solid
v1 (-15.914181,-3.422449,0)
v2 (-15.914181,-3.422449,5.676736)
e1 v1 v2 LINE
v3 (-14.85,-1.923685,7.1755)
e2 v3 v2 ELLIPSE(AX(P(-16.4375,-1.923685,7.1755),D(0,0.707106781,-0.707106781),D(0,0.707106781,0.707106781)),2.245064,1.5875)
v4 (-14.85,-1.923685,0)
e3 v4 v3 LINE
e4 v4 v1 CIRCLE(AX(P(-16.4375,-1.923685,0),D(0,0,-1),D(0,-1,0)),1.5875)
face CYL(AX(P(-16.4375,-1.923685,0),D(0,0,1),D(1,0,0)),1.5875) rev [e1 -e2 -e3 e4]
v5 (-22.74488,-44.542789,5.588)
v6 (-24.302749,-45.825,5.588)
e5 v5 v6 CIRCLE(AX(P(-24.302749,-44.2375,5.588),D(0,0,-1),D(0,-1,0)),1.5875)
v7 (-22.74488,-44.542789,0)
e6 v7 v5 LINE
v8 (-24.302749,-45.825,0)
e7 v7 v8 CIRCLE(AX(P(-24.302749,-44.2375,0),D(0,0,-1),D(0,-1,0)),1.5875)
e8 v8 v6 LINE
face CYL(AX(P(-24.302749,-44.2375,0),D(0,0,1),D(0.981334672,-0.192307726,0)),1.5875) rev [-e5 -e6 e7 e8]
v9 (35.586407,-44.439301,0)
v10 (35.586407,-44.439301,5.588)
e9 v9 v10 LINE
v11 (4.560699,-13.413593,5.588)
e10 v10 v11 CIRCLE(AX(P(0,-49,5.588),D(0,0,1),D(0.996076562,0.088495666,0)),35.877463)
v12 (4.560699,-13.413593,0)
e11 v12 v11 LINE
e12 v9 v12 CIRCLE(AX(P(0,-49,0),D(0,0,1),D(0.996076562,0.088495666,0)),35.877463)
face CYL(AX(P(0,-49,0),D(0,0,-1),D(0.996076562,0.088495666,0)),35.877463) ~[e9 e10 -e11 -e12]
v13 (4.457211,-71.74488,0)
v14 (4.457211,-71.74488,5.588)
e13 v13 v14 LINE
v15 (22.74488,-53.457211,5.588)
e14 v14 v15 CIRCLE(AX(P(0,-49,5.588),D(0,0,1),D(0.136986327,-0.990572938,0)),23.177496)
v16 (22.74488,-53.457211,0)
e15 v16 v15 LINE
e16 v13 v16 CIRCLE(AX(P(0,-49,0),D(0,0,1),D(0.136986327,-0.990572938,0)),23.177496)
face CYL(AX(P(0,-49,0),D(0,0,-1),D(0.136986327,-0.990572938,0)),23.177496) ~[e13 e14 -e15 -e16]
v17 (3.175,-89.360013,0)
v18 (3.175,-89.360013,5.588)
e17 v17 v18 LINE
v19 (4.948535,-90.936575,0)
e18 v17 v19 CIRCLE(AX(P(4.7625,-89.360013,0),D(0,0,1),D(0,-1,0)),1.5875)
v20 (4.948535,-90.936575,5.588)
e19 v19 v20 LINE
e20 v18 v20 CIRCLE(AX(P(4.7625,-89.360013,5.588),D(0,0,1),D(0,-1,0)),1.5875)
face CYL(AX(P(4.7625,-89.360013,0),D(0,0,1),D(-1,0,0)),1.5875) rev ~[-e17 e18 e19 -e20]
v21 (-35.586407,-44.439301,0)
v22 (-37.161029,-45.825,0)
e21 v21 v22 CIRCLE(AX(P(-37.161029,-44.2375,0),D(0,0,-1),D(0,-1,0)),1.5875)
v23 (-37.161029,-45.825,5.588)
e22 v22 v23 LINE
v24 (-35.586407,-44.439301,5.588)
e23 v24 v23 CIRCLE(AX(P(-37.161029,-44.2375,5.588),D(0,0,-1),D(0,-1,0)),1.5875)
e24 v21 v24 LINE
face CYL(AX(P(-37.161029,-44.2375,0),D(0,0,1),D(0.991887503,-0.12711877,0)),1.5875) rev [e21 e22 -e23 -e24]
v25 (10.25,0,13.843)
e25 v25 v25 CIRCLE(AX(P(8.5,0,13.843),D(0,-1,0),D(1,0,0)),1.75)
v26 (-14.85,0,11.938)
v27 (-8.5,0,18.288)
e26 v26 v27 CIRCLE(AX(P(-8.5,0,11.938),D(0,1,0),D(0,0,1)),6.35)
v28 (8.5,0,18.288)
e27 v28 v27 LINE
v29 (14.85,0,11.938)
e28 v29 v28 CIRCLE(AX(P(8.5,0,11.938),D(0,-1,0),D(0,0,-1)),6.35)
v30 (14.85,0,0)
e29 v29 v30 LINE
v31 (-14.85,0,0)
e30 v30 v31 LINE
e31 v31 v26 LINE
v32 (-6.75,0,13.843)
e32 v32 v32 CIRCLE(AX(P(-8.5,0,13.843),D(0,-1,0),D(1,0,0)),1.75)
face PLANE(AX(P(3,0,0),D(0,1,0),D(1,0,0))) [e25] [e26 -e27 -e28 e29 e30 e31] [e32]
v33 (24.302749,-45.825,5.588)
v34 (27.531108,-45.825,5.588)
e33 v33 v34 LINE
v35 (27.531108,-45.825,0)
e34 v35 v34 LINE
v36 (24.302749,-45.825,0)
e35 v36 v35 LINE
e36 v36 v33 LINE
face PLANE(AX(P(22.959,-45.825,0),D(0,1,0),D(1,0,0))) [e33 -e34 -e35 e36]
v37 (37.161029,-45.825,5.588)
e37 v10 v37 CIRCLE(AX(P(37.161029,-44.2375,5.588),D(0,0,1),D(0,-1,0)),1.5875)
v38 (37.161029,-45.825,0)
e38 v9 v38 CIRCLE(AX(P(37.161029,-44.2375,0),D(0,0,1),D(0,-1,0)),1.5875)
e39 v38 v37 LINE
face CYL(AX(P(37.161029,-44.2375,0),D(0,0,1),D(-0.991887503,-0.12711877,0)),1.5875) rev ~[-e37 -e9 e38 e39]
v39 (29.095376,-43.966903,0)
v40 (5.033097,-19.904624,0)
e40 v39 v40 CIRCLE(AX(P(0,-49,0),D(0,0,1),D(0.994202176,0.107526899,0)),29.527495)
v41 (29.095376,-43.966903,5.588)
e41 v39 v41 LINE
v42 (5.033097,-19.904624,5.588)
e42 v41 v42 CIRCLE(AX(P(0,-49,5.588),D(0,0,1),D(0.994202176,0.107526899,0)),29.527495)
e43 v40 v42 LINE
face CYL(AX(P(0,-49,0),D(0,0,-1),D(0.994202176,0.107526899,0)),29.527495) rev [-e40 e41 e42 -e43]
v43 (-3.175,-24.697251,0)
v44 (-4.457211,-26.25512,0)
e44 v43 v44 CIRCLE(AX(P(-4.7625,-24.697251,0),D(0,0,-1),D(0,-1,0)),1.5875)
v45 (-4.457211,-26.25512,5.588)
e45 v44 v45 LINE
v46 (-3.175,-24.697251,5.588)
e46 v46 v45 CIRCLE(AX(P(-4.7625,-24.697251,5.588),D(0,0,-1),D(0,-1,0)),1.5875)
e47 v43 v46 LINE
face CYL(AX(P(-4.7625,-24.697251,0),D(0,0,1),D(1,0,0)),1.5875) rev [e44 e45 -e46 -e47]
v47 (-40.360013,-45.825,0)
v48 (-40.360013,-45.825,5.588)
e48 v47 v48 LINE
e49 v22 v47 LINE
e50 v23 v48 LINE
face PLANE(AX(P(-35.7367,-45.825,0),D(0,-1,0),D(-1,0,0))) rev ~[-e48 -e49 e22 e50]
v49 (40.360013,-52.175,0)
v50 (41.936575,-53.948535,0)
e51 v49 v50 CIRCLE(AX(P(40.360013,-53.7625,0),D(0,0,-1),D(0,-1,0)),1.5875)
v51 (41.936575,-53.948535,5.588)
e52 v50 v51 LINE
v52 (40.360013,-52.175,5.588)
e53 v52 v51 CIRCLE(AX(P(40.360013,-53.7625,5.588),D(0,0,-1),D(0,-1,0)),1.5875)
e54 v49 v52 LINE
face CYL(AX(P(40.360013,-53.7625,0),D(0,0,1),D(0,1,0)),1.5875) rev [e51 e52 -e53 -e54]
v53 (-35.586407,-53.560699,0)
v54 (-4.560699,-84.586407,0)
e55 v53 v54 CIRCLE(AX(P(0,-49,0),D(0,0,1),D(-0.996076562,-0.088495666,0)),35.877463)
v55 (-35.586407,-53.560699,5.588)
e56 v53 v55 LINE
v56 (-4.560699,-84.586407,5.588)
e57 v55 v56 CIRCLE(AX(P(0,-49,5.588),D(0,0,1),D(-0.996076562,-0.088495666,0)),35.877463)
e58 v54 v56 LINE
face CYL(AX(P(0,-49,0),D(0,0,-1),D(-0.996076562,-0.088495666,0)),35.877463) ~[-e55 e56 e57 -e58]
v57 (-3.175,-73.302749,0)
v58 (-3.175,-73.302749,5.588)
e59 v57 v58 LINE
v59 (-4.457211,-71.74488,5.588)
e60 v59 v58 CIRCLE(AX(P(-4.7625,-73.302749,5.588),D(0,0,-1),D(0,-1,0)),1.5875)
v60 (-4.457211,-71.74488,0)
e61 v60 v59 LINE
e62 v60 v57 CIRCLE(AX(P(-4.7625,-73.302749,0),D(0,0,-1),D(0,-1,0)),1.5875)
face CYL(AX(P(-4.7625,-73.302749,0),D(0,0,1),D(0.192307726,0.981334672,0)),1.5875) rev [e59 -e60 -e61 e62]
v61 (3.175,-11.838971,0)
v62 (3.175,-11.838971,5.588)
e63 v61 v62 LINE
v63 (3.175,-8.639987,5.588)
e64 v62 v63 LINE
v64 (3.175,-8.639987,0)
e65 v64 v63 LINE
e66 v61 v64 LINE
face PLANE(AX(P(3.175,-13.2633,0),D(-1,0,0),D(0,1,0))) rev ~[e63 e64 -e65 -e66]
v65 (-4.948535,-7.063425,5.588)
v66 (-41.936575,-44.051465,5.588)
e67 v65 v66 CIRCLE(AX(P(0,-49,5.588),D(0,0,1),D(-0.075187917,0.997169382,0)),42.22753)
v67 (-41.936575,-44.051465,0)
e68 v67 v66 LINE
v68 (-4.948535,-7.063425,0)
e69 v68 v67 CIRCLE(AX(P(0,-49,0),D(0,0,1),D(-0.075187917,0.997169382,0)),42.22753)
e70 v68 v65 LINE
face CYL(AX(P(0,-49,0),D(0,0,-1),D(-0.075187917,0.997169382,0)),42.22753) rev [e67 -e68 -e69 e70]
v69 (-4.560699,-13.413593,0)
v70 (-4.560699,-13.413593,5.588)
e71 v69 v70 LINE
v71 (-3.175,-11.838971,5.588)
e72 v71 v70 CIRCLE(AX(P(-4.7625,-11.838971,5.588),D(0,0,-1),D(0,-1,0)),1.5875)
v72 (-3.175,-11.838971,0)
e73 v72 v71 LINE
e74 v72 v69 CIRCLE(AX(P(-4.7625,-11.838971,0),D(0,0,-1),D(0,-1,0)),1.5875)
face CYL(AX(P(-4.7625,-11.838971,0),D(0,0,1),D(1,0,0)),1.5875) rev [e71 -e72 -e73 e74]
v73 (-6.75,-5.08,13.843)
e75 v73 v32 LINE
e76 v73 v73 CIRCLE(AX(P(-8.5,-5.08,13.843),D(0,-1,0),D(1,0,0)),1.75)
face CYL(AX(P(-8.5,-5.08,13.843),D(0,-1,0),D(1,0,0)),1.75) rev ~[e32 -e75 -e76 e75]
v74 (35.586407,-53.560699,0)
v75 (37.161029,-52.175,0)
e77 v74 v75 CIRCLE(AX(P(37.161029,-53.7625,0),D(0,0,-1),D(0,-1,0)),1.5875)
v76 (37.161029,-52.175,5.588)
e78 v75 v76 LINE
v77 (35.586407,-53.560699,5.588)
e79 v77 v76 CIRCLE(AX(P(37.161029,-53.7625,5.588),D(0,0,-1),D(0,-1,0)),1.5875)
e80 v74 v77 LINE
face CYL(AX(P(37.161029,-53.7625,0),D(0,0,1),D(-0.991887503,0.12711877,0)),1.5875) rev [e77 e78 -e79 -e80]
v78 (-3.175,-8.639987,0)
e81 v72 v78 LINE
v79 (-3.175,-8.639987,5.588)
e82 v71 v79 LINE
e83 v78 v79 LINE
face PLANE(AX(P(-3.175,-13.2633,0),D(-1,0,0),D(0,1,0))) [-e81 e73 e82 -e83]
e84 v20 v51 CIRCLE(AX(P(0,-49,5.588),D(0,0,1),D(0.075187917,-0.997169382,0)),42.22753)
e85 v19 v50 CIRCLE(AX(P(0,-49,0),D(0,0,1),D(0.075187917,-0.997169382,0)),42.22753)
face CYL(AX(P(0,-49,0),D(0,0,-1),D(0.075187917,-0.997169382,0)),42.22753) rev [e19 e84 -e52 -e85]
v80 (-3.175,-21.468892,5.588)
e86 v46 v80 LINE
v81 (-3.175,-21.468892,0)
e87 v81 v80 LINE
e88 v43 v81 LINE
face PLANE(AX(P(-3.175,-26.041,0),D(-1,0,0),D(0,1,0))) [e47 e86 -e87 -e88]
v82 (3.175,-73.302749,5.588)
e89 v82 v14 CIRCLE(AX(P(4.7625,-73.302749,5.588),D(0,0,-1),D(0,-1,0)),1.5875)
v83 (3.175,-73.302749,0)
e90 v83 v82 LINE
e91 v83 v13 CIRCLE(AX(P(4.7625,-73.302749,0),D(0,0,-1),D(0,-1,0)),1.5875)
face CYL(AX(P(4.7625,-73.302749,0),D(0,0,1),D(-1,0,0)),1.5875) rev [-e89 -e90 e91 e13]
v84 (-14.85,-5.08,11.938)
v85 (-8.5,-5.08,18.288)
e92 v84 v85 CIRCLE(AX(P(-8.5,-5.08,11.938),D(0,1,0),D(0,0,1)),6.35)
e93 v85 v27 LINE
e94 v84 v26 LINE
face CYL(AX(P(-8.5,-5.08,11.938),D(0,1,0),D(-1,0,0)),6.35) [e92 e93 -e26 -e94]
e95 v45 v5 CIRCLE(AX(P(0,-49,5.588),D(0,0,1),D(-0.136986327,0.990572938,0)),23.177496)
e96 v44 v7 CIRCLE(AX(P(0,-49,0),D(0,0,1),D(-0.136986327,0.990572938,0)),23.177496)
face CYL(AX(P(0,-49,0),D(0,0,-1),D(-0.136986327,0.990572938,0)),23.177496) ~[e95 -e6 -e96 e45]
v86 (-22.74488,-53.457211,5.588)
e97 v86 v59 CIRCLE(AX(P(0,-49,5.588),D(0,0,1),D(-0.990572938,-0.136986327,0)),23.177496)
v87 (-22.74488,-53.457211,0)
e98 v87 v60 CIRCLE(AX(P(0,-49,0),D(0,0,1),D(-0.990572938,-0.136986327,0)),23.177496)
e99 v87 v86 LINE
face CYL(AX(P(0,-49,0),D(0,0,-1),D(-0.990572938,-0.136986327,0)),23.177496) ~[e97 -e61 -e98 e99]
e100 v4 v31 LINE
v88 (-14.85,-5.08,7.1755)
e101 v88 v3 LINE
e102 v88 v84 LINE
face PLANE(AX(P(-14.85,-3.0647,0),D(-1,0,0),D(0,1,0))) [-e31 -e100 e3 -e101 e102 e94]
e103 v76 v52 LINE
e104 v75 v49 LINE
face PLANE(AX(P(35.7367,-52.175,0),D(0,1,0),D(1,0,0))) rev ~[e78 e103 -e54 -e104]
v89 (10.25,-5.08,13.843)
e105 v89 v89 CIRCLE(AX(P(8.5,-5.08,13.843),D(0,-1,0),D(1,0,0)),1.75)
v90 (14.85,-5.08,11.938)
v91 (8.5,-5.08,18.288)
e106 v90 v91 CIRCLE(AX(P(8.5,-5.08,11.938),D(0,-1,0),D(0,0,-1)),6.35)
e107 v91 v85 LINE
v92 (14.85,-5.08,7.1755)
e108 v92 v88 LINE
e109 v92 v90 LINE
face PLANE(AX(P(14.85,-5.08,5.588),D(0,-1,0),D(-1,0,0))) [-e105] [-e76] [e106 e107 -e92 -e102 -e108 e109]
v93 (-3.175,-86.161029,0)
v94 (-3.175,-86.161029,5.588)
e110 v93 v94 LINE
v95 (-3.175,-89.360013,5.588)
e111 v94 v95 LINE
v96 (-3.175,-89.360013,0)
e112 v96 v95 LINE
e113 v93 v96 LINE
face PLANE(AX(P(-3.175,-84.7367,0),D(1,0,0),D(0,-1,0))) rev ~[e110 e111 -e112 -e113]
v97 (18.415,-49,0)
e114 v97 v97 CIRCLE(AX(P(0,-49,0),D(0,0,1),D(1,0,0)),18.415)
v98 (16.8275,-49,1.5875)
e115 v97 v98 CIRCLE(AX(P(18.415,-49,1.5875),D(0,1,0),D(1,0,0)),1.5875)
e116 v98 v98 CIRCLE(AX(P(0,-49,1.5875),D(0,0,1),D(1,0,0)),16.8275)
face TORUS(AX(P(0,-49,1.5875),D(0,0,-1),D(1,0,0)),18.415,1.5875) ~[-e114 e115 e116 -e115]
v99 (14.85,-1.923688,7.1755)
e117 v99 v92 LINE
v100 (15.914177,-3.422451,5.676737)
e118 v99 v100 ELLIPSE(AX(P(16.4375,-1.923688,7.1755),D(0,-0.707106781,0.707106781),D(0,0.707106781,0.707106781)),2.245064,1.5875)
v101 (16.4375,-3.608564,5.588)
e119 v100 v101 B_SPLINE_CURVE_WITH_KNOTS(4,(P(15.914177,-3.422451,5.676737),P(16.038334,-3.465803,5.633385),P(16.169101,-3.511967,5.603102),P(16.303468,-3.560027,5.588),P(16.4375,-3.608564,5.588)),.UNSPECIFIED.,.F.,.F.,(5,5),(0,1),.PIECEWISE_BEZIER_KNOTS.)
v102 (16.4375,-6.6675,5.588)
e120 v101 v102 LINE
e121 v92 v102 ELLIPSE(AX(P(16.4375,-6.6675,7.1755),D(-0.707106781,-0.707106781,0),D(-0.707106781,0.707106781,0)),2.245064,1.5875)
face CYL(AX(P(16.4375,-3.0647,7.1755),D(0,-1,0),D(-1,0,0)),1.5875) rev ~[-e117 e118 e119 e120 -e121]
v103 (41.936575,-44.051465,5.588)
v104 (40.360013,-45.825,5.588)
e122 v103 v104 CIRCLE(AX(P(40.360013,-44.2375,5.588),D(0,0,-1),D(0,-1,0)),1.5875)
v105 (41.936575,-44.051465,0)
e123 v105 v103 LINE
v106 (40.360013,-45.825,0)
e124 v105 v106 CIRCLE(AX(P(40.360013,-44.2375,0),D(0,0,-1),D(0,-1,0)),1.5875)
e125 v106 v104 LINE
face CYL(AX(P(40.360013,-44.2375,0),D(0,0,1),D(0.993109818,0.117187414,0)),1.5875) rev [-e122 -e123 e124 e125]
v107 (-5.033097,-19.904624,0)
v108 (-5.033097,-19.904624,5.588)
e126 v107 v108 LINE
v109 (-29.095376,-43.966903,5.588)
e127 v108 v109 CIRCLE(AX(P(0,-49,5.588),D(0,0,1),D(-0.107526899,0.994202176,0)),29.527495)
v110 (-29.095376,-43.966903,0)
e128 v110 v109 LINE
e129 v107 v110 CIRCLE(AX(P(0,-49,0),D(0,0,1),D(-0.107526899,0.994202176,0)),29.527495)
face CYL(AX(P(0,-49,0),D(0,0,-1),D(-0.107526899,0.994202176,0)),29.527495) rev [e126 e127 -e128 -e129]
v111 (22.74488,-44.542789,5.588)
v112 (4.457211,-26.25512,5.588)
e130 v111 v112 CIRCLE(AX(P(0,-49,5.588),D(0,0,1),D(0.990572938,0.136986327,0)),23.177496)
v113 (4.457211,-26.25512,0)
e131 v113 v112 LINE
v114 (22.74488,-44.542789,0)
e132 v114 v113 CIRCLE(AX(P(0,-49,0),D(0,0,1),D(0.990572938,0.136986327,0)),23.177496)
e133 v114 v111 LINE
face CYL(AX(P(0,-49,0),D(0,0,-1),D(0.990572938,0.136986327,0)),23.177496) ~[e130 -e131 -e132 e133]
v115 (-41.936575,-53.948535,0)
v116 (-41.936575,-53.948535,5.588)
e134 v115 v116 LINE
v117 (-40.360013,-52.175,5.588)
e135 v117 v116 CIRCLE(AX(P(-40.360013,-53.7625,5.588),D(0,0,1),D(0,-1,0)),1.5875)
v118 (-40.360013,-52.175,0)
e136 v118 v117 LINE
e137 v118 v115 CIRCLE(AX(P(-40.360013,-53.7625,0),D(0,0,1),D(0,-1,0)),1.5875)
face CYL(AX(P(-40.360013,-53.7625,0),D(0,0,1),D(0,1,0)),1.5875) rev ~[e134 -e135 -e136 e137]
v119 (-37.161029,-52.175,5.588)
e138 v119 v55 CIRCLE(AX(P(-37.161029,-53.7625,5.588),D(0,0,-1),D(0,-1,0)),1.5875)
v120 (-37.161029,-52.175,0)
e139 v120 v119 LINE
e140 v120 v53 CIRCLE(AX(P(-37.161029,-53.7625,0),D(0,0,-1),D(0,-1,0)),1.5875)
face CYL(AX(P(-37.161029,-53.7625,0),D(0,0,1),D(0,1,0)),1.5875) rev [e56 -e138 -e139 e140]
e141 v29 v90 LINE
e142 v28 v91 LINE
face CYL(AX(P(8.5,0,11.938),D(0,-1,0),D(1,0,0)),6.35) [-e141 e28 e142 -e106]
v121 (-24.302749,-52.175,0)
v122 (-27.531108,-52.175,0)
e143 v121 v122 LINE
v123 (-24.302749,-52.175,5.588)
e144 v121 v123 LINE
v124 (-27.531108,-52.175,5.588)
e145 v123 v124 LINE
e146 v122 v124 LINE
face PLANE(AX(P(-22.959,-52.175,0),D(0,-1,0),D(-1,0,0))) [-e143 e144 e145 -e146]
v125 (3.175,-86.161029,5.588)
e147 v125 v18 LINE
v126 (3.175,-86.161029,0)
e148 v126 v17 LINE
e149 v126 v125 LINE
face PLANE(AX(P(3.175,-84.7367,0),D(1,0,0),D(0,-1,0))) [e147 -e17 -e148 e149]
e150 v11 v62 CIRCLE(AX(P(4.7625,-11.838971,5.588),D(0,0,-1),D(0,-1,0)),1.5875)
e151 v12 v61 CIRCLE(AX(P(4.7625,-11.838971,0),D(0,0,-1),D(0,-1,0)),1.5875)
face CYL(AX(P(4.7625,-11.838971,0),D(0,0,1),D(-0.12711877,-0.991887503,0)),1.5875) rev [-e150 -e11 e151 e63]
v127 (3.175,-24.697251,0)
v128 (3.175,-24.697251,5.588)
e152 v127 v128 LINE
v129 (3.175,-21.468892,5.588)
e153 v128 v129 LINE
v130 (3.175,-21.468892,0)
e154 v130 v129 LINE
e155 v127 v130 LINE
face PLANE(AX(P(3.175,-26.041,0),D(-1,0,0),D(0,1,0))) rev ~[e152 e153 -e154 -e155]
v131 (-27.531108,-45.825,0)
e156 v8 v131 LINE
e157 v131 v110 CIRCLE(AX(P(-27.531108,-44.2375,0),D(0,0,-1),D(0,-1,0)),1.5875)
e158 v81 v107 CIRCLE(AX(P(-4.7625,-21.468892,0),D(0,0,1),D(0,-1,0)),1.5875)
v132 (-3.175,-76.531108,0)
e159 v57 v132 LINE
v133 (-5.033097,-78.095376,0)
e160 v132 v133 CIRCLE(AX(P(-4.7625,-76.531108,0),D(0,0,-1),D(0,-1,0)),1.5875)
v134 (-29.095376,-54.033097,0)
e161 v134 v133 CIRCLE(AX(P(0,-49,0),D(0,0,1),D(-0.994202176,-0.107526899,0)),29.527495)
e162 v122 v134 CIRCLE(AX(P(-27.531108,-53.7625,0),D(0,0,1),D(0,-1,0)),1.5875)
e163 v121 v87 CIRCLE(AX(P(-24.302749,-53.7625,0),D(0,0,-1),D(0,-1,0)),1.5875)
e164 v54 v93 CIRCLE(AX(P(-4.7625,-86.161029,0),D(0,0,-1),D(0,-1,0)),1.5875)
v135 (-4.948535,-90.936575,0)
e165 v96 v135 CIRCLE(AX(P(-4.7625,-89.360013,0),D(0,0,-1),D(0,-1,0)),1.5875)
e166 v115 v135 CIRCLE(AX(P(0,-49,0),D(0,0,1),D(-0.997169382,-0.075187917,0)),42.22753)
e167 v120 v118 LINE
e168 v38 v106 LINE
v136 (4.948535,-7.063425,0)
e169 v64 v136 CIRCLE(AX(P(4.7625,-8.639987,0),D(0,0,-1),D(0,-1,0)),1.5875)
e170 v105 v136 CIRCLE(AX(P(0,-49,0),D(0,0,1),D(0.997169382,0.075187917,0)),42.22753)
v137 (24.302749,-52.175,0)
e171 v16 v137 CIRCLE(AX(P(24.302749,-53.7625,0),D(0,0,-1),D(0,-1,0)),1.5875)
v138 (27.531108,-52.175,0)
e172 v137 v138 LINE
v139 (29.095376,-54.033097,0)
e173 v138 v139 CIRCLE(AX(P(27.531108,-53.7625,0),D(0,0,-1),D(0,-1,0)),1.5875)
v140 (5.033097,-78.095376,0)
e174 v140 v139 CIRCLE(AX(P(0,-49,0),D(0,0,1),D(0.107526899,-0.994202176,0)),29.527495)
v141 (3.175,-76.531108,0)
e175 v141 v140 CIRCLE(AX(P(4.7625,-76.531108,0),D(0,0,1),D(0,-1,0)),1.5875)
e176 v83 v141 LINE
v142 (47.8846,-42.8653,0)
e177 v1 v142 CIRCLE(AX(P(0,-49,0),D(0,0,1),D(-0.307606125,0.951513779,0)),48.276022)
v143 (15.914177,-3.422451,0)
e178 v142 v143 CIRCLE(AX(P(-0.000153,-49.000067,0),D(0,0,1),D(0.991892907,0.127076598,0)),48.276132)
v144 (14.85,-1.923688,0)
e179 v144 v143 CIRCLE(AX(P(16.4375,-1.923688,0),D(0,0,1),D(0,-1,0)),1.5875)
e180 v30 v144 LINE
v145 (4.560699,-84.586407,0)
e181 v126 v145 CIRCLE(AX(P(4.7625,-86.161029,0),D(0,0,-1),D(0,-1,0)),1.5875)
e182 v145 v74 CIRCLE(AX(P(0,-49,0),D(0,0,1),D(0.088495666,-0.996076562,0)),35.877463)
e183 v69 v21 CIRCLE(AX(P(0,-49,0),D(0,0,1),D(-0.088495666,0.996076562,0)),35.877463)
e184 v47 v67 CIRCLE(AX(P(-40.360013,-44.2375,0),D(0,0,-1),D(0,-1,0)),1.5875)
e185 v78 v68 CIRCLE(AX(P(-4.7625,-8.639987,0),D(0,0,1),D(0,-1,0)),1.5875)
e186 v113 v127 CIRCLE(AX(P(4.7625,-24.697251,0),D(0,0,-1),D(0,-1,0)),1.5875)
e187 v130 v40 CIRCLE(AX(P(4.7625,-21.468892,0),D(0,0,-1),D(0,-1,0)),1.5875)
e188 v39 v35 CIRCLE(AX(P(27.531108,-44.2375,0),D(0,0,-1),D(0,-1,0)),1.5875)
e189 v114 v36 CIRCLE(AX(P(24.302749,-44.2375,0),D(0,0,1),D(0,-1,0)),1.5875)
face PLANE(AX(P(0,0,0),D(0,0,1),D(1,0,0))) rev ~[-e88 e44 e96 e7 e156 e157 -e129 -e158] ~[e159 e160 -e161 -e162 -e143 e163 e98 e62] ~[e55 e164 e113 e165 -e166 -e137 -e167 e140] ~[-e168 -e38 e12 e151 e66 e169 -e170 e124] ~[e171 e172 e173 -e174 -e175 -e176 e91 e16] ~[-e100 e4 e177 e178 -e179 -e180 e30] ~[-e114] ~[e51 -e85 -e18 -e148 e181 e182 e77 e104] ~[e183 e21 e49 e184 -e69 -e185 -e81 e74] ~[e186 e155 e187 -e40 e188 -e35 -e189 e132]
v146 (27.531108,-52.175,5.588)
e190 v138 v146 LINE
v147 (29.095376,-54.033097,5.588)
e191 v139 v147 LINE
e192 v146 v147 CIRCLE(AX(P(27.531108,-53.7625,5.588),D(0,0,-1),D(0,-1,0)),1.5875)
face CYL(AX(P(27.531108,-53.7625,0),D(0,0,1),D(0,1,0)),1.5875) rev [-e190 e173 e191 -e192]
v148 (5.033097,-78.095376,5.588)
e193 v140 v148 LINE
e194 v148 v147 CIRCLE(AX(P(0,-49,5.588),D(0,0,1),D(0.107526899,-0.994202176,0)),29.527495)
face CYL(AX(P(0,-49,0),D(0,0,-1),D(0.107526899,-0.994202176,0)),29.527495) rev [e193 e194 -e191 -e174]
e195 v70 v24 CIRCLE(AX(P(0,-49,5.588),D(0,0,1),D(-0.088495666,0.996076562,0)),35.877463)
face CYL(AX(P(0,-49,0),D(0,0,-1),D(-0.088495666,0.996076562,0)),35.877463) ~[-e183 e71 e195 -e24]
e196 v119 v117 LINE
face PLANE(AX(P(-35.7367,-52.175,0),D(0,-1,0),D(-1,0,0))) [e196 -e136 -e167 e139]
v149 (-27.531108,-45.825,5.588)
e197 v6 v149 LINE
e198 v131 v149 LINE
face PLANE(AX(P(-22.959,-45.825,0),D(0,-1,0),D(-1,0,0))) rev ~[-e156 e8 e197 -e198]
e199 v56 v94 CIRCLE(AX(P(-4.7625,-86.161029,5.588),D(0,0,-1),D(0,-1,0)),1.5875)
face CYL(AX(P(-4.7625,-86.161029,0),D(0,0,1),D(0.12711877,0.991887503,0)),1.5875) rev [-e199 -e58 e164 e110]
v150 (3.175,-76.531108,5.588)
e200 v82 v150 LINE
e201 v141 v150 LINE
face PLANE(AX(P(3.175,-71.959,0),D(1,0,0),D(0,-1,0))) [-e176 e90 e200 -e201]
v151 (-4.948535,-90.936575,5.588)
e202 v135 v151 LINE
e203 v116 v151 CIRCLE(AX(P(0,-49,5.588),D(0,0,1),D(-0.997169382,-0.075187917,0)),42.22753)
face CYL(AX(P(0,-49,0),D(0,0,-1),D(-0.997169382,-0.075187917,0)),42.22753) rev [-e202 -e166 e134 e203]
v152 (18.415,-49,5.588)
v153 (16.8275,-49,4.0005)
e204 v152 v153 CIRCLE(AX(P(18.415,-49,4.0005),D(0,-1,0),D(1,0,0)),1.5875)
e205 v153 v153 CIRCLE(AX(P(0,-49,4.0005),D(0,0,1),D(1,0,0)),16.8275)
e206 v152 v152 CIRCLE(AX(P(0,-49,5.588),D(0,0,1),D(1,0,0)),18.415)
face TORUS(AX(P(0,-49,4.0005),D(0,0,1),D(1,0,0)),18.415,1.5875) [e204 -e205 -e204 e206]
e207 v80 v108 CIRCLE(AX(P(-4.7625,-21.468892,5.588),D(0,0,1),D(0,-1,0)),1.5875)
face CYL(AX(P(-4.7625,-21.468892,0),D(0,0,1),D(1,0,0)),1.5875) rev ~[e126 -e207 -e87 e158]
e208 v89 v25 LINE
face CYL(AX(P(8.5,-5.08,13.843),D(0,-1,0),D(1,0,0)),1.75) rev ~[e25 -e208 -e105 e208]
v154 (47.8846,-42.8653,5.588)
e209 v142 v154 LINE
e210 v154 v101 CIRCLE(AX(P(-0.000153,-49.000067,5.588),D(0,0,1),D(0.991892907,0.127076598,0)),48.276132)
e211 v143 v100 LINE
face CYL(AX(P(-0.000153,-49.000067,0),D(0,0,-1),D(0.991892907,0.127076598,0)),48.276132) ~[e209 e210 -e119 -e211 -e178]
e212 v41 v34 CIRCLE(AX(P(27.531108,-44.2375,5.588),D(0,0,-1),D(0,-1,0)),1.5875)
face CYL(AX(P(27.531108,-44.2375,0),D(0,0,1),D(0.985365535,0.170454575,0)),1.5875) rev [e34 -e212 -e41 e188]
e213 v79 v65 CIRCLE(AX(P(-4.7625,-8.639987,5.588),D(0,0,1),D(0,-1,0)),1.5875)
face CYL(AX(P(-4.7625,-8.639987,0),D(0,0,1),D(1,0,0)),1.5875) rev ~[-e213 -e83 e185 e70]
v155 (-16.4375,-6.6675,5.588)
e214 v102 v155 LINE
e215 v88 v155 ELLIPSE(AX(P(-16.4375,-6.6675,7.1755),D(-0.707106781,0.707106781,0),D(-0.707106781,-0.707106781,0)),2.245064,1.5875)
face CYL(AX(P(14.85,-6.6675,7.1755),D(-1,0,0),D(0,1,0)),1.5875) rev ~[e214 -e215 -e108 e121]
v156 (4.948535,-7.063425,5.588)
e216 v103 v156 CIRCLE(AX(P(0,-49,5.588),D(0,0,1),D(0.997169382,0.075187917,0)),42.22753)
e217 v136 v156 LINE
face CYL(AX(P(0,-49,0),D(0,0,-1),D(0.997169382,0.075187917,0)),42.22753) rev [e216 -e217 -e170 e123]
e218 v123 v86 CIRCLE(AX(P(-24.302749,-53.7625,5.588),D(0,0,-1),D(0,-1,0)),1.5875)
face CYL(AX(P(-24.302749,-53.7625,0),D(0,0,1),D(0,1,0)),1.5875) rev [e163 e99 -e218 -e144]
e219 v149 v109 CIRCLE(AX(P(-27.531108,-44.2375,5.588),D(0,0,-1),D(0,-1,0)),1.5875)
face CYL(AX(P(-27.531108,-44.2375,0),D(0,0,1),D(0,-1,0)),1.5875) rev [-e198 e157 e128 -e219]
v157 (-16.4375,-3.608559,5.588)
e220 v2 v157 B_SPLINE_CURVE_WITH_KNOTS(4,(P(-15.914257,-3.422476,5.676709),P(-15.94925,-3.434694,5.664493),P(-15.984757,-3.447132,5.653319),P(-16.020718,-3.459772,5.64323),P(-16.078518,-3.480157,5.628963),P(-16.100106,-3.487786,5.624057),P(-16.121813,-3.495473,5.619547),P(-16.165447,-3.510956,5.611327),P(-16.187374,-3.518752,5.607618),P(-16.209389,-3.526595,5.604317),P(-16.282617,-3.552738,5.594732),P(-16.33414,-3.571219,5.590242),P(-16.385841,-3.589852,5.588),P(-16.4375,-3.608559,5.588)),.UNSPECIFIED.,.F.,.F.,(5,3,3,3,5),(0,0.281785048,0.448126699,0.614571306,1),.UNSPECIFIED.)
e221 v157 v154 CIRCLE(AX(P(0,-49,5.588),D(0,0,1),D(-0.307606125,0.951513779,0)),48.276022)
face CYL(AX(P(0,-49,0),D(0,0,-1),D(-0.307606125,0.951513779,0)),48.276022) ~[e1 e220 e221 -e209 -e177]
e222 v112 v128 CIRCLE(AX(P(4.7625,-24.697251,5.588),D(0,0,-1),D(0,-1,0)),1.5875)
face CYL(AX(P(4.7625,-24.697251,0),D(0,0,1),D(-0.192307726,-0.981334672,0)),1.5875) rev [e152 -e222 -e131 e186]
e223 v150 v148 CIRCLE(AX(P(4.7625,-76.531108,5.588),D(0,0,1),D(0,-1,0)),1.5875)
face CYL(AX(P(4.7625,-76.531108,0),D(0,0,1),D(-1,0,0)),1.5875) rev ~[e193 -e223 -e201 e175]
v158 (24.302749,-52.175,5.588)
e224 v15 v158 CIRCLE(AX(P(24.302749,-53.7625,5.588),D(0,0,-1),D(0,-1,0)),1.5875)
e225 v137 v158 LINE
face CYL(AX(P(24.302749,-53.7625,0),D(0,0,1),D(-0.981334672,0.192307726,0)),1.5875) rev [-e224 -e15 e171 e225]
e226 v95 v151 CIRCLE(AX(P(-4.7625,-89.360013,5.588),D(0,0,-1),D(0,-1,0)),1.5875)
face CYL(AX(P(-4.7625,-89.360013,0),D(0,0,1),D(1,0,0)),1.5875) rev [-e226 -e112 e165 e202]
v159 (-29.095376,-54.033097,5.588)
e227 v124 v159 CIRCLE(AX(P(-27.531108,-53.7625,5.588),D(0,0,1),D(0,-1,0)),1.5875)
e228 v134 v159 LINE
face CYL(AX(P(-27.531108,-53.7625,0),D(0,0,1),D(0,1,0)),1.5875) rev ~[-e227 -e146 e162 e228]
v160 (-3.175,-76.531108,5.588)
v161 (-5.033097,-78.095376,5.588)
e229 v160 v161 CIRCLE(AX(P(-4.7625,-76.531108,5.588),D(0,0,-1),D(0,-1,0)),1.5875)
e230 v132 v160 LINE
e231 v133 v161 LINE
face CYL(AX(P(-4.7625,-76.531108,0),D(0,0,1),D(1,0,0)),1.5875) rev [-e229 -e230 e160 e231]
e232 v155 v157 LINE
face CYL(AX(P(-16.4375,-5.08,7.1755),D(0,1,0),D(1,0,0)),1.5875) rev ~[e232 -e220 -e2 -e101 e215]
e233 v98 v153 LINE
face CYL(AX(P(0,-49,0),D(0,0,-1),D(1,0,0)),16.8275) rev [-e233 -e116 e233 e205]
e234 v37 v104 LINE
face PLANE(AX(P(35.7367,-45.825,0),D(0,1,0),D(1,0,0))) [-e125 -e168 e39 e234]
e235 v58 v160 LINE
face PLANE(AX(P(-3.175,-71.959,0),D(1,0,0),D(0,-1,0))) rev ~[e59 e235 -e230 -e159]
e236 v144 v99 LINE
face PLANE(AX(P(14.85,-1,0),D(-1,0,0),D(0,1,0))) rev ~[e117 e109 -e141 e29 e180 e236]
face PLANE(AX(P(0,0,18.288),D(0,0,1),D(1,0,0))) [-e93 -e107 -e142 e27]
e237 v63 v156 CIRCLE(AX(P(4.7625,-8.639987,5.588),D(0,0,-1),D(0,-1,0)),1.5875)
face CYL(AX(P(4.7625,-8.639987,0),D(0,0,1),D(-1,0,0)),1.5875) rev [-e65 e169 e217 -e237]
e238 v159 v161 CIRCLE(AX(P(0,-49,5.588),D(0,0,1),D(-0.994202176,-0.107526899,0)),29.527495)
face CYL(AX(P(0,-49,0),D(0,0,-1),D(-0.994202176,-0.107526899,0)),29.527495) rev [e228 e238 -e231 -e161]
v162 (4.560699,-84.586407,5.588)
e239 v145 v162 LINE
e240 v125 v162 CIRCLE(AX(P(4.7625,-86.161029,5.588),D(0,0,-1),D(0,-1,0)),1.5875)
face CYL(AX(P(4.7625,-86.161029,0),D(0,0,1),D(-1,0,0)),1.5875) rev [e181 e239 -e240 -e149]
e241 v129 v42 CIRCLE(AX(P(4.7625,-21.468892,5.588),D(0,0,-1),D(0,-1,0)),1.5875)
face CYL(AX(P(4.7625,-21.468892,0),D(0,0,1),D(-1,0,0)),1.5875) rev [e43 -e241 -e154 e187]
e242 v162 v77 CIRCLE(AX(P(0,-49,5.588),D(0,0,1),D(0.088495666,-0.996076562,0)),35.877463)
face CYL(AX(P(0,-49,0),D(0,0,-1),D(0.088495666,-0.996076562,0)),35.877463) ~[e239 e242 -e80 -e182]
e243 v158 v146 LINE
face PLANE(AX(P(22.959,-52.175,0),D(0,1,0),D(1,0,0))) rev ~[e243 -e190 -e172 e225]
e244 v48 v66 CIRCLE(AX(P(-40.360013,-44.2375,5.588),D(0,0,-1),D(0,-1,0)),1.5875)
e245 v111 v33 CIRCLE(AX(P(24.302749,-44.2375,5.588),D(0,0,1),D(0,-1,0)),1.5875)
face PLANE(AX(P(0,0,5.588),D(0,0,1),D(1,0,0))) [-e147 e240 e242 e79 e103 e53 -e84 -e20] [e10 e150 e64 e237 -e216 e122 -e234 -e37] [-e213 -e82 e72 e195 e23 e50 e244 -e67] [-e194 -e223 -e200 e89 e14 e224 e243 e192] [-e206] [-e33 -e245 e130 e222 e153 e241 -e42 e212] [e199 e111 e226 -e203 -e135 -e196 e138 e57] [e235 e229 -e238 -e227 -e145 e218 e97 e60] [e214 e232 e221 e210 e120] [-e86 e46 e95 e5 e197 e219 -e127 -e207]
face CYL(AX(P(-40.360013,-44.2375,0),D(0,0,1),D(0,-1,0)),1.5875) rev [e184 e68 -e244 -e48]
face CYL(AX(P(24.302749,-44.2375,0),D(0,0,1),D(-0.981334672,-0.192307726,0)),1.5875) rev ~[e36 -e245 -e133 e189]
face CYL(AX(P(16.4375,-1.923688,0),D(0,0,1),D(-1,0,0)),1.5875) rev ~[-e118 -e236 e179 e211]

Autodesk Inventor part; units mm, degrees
ref_plane "YZ Plane" through (0, 0, 0) normal (1, 0, 0) x (0, 1, 0)
sketch "Sketch1" plane through (0, 0, 0) normal (0, 0, 1) x (1, 0, 0)
  line L0 (3, 0) -> (-3, 0)
  line L1 (0, 0) -> (13.85, 0)
  line L2 (14.85, -3.0647) -> (14.85, -1)
  line L3 (14.85, -3.0647) -> (14.85, -1)
  line L4 (0, 0) -> (-13.85, 0)
  line L5 (13.85, 0) -> (-13.85, 0)
  line L6 (-14.85, -3.0647) -> (-14.85, -1)
  line L7 (-14.85, -3.0647) -> (-14.85, -1)
  arc A0 (47.8846, -42.8653) -> (14.85, -3.0647) centre (0, -49) ccw
  arc A1 (-14.85, -3.0647) -> (14.85, -3.0647) centre (0, -49) ccw
  line L8 (-14.85, -1) -> (-14.85, 0)
  line L9 (-14.85, 0) -> (-13.85, 0)
  line L10 (14.85, -1) -> (14.85, 0)
  line L11 (14.85, 0) -> (13.85, 0)
  circle A2 centre (0, -49) radius 16.8275
  line L12 (-3.175, -26.041) -> (-3.175, -19.6437)
  line L13 (-3.175, -13.2633) -> (-3.175, -6.892)
  line L14 (3.175, -26.041) -> (3.175, -19.6437)
  line L15 (3.175, -13.2633) -> (3.175, -6.892)
  arc A3 (-3.175, -26.041) -> (-22.959, -45.825) centre (0, -49) ccw
  arc A4 (-3.175, -19.6437) -> (-29.3563, -45.825) centre (0, -49) ccw
  line L16 (-22.959, -45.825) -> (-29.3563, -45.825)
  line L17 (-35.7367, -45.825) -> (-42.108, -45.825)
  line L18 (-22.959, -52.175) -> (-29.3563, -52.175)
  line L19 (-35.7367, -52.175) -> (-42.108, -52.175)
  arc A5 (-3.175, -13.2633) -> (-35.7367, -45.825) centre (0, -49) ccw
  arc A6 (-3.175, -6.892) -> (-42.108, -45.825) centre (0, -49) ccw
  arc A7 (-22.959, -52.175) -> (-3.175, -71.959) centre (0, -49) ccw
  arc A8 (-29.3563, -52.175) -> (-3.175, -78.3563) centre (0, -49) ccw
  line L20 (-3.175, -71.959) -> (-3.175, -78.3563)
  line L21 (-3.175, -84.7367) -> (-3.175, -91.108)
  line L22 (3.175, -71.959) -> (3.175, -78.3563)
  line L23 (3.175, -84.7367) -> (3.175, -91.108)
  arc A9 (-35.7367, -52.175) -> (-3.175, -84.7367) centre (0, -49) ccw
  arc A10 (-42.108, -52.175) -> (-3.175, -91.108) centre (0, -49) ccw
  arc A11 (3.175, -71.959) -> (22.959, -52.175) centre (0, -49) ccw
  arc A12 (22.959, -45.825) -> (3.175, -26.041) centre (0, -49) ccw
  arc A13 (3.175, -78.3563) -> (29.3563, -52.175) centre (0, -49) ccw
  arc A14 (29.3563, -45.825) -> (3.175, -19.6437) centre (0, -49) ccw
  line L24 (22.959, -45.825) -> (29.3563, -45.825)
  line L25 (35.7367, -45.825) -> (42.108, -45.825)
  line L26 (22.959, -52.175) -> (29.3563, -52.175)
  line L27 (35.7367, -52.175) -> (42.108, -52.175)
  arc A15 (3.175, -84.7367) -> (35.7367, -52.175) centre (0, -49) ccw
  arc A16 (35.7367, -45.825) -> (3.175, -13.2633) centre (0, -49) ccw
  arc A17 (3.175, -91.108) -> (42.108, -52.175) centre (0, -49) ccw
  arc A18 (42.108, -45.825) -> (3.175, -6.892) centre (0, -49) ccw
  point P0 (0, 0)
  point P1 (-16.85, -4.0995)
ref_plane "Work Plane1" through (0, 0, 5.588) normal (0, 0, 1) x (1, 0, 0)
sketch "Sketch3" plane through (0, 0, 5.588) normal (0, 0, 1) x (1, 0, 0)
  line L0 (14.85, 0) -> (-14.85, 0) projected
  line L1 (-14.85, 0) -> (14.85, 0)
  line L2 (14.85, 0) -> (14.85, -5.08)
  line L3 (14.85, -5.08) -> (-14.85, -5.08)
  line L4 (-14.85, -5.08) -> (-14.85, 0)
  point P0 (0, 0)
  dimension "d16" = 5.08
extrude "Extrusion2" add sketch "Sketch3" along normal blind 12.7
ref_plane "Work Plane2" through (-8.5, -5.08, 18.288) normal (0, -1, 0) x (1, 0, 0)
sketch "Sketch4" plane through (-8.5, -5.08, 18.288) normal (0, -1, 0) x (1, 0, 0)
  line L0 (17, 0) -> (0, 0) projected
  circle A0 centre (0, -4.445) radius 1.75
  circle A1 centre (17, -4.445) radius 1.75
  point P0 (8.5, -18.288)
  dimension "d22" = 3.5
  dimension "d23" = 3.5
extrude "Extrusion3" cut sketch "Sketch4" against normal blind 10.16
extrude "Extrusion4" add sketch "Sketch1" along normal blind 5.588
fillet "Fillet5" radius 6.35 2 edges at (-14.85, -2.54, 18.288) (14.85, -2.54, 18.288)
fillet "Fillet6" radius 1.5875 5 edges at (0, -5.08, 5.588) (14.85, -3.0647, 2.794) (14.85, -4.0724, 5.588) (-14.85, -3.0647, 2.794) (-14.85, -4.0724, 5.588)
fillet "Fillet7" radius 1.5875 34 edges at (-3.175, -6.892, 2.794) (-3.175, -13.2633, 2.794) (-3.175, -19.6437, 2.794) (-3.175, -26.041, 2.794) (-42.108, -45.825, 2.794) (-35.7367, -45.825, 2.794) (-29.3563, -45.825, 2.794) (-22.959, -45.825, 2.794) (-42.108, -52.175, 2.794) (-35.7367, -52.175, 2.794) (-29.3563, -52.175, 2.794) (-22.959, -52.175, 2.794) (-3.175, -71.959, 2.794) (-3.175, -78.3563, 2.794) (-3.175, -84.7367, 2.794) (-3.175, -91.108, 2.794) (3.175, -91.108, 2.794) (3.175, -84.7367, 2.794) (3.175, -78.3563, 2.794) (3.175, -71.959, 2.794) (22.959, -52.175, 2.794) (29.3563, -52.175, 2.794) (35.7367, -52.175, 2.794) (42.108, -52.175, 2.794) (42.108, -45.825, 2.794) (35.7367, -45.825, 2.794) (29.3563, -45.825, 2.794) (22.959, -45.825, 2.794) (3.175, -26.041, 2.794) (3.175, -19.6437, 2.794) (3.175, -13.2633, 2.794) (3.175, -6.892, 2.794) (-16.8275, -49, 0) (-16.8275, -49, 5.588)
properties part number "backSideThrusterCover"
